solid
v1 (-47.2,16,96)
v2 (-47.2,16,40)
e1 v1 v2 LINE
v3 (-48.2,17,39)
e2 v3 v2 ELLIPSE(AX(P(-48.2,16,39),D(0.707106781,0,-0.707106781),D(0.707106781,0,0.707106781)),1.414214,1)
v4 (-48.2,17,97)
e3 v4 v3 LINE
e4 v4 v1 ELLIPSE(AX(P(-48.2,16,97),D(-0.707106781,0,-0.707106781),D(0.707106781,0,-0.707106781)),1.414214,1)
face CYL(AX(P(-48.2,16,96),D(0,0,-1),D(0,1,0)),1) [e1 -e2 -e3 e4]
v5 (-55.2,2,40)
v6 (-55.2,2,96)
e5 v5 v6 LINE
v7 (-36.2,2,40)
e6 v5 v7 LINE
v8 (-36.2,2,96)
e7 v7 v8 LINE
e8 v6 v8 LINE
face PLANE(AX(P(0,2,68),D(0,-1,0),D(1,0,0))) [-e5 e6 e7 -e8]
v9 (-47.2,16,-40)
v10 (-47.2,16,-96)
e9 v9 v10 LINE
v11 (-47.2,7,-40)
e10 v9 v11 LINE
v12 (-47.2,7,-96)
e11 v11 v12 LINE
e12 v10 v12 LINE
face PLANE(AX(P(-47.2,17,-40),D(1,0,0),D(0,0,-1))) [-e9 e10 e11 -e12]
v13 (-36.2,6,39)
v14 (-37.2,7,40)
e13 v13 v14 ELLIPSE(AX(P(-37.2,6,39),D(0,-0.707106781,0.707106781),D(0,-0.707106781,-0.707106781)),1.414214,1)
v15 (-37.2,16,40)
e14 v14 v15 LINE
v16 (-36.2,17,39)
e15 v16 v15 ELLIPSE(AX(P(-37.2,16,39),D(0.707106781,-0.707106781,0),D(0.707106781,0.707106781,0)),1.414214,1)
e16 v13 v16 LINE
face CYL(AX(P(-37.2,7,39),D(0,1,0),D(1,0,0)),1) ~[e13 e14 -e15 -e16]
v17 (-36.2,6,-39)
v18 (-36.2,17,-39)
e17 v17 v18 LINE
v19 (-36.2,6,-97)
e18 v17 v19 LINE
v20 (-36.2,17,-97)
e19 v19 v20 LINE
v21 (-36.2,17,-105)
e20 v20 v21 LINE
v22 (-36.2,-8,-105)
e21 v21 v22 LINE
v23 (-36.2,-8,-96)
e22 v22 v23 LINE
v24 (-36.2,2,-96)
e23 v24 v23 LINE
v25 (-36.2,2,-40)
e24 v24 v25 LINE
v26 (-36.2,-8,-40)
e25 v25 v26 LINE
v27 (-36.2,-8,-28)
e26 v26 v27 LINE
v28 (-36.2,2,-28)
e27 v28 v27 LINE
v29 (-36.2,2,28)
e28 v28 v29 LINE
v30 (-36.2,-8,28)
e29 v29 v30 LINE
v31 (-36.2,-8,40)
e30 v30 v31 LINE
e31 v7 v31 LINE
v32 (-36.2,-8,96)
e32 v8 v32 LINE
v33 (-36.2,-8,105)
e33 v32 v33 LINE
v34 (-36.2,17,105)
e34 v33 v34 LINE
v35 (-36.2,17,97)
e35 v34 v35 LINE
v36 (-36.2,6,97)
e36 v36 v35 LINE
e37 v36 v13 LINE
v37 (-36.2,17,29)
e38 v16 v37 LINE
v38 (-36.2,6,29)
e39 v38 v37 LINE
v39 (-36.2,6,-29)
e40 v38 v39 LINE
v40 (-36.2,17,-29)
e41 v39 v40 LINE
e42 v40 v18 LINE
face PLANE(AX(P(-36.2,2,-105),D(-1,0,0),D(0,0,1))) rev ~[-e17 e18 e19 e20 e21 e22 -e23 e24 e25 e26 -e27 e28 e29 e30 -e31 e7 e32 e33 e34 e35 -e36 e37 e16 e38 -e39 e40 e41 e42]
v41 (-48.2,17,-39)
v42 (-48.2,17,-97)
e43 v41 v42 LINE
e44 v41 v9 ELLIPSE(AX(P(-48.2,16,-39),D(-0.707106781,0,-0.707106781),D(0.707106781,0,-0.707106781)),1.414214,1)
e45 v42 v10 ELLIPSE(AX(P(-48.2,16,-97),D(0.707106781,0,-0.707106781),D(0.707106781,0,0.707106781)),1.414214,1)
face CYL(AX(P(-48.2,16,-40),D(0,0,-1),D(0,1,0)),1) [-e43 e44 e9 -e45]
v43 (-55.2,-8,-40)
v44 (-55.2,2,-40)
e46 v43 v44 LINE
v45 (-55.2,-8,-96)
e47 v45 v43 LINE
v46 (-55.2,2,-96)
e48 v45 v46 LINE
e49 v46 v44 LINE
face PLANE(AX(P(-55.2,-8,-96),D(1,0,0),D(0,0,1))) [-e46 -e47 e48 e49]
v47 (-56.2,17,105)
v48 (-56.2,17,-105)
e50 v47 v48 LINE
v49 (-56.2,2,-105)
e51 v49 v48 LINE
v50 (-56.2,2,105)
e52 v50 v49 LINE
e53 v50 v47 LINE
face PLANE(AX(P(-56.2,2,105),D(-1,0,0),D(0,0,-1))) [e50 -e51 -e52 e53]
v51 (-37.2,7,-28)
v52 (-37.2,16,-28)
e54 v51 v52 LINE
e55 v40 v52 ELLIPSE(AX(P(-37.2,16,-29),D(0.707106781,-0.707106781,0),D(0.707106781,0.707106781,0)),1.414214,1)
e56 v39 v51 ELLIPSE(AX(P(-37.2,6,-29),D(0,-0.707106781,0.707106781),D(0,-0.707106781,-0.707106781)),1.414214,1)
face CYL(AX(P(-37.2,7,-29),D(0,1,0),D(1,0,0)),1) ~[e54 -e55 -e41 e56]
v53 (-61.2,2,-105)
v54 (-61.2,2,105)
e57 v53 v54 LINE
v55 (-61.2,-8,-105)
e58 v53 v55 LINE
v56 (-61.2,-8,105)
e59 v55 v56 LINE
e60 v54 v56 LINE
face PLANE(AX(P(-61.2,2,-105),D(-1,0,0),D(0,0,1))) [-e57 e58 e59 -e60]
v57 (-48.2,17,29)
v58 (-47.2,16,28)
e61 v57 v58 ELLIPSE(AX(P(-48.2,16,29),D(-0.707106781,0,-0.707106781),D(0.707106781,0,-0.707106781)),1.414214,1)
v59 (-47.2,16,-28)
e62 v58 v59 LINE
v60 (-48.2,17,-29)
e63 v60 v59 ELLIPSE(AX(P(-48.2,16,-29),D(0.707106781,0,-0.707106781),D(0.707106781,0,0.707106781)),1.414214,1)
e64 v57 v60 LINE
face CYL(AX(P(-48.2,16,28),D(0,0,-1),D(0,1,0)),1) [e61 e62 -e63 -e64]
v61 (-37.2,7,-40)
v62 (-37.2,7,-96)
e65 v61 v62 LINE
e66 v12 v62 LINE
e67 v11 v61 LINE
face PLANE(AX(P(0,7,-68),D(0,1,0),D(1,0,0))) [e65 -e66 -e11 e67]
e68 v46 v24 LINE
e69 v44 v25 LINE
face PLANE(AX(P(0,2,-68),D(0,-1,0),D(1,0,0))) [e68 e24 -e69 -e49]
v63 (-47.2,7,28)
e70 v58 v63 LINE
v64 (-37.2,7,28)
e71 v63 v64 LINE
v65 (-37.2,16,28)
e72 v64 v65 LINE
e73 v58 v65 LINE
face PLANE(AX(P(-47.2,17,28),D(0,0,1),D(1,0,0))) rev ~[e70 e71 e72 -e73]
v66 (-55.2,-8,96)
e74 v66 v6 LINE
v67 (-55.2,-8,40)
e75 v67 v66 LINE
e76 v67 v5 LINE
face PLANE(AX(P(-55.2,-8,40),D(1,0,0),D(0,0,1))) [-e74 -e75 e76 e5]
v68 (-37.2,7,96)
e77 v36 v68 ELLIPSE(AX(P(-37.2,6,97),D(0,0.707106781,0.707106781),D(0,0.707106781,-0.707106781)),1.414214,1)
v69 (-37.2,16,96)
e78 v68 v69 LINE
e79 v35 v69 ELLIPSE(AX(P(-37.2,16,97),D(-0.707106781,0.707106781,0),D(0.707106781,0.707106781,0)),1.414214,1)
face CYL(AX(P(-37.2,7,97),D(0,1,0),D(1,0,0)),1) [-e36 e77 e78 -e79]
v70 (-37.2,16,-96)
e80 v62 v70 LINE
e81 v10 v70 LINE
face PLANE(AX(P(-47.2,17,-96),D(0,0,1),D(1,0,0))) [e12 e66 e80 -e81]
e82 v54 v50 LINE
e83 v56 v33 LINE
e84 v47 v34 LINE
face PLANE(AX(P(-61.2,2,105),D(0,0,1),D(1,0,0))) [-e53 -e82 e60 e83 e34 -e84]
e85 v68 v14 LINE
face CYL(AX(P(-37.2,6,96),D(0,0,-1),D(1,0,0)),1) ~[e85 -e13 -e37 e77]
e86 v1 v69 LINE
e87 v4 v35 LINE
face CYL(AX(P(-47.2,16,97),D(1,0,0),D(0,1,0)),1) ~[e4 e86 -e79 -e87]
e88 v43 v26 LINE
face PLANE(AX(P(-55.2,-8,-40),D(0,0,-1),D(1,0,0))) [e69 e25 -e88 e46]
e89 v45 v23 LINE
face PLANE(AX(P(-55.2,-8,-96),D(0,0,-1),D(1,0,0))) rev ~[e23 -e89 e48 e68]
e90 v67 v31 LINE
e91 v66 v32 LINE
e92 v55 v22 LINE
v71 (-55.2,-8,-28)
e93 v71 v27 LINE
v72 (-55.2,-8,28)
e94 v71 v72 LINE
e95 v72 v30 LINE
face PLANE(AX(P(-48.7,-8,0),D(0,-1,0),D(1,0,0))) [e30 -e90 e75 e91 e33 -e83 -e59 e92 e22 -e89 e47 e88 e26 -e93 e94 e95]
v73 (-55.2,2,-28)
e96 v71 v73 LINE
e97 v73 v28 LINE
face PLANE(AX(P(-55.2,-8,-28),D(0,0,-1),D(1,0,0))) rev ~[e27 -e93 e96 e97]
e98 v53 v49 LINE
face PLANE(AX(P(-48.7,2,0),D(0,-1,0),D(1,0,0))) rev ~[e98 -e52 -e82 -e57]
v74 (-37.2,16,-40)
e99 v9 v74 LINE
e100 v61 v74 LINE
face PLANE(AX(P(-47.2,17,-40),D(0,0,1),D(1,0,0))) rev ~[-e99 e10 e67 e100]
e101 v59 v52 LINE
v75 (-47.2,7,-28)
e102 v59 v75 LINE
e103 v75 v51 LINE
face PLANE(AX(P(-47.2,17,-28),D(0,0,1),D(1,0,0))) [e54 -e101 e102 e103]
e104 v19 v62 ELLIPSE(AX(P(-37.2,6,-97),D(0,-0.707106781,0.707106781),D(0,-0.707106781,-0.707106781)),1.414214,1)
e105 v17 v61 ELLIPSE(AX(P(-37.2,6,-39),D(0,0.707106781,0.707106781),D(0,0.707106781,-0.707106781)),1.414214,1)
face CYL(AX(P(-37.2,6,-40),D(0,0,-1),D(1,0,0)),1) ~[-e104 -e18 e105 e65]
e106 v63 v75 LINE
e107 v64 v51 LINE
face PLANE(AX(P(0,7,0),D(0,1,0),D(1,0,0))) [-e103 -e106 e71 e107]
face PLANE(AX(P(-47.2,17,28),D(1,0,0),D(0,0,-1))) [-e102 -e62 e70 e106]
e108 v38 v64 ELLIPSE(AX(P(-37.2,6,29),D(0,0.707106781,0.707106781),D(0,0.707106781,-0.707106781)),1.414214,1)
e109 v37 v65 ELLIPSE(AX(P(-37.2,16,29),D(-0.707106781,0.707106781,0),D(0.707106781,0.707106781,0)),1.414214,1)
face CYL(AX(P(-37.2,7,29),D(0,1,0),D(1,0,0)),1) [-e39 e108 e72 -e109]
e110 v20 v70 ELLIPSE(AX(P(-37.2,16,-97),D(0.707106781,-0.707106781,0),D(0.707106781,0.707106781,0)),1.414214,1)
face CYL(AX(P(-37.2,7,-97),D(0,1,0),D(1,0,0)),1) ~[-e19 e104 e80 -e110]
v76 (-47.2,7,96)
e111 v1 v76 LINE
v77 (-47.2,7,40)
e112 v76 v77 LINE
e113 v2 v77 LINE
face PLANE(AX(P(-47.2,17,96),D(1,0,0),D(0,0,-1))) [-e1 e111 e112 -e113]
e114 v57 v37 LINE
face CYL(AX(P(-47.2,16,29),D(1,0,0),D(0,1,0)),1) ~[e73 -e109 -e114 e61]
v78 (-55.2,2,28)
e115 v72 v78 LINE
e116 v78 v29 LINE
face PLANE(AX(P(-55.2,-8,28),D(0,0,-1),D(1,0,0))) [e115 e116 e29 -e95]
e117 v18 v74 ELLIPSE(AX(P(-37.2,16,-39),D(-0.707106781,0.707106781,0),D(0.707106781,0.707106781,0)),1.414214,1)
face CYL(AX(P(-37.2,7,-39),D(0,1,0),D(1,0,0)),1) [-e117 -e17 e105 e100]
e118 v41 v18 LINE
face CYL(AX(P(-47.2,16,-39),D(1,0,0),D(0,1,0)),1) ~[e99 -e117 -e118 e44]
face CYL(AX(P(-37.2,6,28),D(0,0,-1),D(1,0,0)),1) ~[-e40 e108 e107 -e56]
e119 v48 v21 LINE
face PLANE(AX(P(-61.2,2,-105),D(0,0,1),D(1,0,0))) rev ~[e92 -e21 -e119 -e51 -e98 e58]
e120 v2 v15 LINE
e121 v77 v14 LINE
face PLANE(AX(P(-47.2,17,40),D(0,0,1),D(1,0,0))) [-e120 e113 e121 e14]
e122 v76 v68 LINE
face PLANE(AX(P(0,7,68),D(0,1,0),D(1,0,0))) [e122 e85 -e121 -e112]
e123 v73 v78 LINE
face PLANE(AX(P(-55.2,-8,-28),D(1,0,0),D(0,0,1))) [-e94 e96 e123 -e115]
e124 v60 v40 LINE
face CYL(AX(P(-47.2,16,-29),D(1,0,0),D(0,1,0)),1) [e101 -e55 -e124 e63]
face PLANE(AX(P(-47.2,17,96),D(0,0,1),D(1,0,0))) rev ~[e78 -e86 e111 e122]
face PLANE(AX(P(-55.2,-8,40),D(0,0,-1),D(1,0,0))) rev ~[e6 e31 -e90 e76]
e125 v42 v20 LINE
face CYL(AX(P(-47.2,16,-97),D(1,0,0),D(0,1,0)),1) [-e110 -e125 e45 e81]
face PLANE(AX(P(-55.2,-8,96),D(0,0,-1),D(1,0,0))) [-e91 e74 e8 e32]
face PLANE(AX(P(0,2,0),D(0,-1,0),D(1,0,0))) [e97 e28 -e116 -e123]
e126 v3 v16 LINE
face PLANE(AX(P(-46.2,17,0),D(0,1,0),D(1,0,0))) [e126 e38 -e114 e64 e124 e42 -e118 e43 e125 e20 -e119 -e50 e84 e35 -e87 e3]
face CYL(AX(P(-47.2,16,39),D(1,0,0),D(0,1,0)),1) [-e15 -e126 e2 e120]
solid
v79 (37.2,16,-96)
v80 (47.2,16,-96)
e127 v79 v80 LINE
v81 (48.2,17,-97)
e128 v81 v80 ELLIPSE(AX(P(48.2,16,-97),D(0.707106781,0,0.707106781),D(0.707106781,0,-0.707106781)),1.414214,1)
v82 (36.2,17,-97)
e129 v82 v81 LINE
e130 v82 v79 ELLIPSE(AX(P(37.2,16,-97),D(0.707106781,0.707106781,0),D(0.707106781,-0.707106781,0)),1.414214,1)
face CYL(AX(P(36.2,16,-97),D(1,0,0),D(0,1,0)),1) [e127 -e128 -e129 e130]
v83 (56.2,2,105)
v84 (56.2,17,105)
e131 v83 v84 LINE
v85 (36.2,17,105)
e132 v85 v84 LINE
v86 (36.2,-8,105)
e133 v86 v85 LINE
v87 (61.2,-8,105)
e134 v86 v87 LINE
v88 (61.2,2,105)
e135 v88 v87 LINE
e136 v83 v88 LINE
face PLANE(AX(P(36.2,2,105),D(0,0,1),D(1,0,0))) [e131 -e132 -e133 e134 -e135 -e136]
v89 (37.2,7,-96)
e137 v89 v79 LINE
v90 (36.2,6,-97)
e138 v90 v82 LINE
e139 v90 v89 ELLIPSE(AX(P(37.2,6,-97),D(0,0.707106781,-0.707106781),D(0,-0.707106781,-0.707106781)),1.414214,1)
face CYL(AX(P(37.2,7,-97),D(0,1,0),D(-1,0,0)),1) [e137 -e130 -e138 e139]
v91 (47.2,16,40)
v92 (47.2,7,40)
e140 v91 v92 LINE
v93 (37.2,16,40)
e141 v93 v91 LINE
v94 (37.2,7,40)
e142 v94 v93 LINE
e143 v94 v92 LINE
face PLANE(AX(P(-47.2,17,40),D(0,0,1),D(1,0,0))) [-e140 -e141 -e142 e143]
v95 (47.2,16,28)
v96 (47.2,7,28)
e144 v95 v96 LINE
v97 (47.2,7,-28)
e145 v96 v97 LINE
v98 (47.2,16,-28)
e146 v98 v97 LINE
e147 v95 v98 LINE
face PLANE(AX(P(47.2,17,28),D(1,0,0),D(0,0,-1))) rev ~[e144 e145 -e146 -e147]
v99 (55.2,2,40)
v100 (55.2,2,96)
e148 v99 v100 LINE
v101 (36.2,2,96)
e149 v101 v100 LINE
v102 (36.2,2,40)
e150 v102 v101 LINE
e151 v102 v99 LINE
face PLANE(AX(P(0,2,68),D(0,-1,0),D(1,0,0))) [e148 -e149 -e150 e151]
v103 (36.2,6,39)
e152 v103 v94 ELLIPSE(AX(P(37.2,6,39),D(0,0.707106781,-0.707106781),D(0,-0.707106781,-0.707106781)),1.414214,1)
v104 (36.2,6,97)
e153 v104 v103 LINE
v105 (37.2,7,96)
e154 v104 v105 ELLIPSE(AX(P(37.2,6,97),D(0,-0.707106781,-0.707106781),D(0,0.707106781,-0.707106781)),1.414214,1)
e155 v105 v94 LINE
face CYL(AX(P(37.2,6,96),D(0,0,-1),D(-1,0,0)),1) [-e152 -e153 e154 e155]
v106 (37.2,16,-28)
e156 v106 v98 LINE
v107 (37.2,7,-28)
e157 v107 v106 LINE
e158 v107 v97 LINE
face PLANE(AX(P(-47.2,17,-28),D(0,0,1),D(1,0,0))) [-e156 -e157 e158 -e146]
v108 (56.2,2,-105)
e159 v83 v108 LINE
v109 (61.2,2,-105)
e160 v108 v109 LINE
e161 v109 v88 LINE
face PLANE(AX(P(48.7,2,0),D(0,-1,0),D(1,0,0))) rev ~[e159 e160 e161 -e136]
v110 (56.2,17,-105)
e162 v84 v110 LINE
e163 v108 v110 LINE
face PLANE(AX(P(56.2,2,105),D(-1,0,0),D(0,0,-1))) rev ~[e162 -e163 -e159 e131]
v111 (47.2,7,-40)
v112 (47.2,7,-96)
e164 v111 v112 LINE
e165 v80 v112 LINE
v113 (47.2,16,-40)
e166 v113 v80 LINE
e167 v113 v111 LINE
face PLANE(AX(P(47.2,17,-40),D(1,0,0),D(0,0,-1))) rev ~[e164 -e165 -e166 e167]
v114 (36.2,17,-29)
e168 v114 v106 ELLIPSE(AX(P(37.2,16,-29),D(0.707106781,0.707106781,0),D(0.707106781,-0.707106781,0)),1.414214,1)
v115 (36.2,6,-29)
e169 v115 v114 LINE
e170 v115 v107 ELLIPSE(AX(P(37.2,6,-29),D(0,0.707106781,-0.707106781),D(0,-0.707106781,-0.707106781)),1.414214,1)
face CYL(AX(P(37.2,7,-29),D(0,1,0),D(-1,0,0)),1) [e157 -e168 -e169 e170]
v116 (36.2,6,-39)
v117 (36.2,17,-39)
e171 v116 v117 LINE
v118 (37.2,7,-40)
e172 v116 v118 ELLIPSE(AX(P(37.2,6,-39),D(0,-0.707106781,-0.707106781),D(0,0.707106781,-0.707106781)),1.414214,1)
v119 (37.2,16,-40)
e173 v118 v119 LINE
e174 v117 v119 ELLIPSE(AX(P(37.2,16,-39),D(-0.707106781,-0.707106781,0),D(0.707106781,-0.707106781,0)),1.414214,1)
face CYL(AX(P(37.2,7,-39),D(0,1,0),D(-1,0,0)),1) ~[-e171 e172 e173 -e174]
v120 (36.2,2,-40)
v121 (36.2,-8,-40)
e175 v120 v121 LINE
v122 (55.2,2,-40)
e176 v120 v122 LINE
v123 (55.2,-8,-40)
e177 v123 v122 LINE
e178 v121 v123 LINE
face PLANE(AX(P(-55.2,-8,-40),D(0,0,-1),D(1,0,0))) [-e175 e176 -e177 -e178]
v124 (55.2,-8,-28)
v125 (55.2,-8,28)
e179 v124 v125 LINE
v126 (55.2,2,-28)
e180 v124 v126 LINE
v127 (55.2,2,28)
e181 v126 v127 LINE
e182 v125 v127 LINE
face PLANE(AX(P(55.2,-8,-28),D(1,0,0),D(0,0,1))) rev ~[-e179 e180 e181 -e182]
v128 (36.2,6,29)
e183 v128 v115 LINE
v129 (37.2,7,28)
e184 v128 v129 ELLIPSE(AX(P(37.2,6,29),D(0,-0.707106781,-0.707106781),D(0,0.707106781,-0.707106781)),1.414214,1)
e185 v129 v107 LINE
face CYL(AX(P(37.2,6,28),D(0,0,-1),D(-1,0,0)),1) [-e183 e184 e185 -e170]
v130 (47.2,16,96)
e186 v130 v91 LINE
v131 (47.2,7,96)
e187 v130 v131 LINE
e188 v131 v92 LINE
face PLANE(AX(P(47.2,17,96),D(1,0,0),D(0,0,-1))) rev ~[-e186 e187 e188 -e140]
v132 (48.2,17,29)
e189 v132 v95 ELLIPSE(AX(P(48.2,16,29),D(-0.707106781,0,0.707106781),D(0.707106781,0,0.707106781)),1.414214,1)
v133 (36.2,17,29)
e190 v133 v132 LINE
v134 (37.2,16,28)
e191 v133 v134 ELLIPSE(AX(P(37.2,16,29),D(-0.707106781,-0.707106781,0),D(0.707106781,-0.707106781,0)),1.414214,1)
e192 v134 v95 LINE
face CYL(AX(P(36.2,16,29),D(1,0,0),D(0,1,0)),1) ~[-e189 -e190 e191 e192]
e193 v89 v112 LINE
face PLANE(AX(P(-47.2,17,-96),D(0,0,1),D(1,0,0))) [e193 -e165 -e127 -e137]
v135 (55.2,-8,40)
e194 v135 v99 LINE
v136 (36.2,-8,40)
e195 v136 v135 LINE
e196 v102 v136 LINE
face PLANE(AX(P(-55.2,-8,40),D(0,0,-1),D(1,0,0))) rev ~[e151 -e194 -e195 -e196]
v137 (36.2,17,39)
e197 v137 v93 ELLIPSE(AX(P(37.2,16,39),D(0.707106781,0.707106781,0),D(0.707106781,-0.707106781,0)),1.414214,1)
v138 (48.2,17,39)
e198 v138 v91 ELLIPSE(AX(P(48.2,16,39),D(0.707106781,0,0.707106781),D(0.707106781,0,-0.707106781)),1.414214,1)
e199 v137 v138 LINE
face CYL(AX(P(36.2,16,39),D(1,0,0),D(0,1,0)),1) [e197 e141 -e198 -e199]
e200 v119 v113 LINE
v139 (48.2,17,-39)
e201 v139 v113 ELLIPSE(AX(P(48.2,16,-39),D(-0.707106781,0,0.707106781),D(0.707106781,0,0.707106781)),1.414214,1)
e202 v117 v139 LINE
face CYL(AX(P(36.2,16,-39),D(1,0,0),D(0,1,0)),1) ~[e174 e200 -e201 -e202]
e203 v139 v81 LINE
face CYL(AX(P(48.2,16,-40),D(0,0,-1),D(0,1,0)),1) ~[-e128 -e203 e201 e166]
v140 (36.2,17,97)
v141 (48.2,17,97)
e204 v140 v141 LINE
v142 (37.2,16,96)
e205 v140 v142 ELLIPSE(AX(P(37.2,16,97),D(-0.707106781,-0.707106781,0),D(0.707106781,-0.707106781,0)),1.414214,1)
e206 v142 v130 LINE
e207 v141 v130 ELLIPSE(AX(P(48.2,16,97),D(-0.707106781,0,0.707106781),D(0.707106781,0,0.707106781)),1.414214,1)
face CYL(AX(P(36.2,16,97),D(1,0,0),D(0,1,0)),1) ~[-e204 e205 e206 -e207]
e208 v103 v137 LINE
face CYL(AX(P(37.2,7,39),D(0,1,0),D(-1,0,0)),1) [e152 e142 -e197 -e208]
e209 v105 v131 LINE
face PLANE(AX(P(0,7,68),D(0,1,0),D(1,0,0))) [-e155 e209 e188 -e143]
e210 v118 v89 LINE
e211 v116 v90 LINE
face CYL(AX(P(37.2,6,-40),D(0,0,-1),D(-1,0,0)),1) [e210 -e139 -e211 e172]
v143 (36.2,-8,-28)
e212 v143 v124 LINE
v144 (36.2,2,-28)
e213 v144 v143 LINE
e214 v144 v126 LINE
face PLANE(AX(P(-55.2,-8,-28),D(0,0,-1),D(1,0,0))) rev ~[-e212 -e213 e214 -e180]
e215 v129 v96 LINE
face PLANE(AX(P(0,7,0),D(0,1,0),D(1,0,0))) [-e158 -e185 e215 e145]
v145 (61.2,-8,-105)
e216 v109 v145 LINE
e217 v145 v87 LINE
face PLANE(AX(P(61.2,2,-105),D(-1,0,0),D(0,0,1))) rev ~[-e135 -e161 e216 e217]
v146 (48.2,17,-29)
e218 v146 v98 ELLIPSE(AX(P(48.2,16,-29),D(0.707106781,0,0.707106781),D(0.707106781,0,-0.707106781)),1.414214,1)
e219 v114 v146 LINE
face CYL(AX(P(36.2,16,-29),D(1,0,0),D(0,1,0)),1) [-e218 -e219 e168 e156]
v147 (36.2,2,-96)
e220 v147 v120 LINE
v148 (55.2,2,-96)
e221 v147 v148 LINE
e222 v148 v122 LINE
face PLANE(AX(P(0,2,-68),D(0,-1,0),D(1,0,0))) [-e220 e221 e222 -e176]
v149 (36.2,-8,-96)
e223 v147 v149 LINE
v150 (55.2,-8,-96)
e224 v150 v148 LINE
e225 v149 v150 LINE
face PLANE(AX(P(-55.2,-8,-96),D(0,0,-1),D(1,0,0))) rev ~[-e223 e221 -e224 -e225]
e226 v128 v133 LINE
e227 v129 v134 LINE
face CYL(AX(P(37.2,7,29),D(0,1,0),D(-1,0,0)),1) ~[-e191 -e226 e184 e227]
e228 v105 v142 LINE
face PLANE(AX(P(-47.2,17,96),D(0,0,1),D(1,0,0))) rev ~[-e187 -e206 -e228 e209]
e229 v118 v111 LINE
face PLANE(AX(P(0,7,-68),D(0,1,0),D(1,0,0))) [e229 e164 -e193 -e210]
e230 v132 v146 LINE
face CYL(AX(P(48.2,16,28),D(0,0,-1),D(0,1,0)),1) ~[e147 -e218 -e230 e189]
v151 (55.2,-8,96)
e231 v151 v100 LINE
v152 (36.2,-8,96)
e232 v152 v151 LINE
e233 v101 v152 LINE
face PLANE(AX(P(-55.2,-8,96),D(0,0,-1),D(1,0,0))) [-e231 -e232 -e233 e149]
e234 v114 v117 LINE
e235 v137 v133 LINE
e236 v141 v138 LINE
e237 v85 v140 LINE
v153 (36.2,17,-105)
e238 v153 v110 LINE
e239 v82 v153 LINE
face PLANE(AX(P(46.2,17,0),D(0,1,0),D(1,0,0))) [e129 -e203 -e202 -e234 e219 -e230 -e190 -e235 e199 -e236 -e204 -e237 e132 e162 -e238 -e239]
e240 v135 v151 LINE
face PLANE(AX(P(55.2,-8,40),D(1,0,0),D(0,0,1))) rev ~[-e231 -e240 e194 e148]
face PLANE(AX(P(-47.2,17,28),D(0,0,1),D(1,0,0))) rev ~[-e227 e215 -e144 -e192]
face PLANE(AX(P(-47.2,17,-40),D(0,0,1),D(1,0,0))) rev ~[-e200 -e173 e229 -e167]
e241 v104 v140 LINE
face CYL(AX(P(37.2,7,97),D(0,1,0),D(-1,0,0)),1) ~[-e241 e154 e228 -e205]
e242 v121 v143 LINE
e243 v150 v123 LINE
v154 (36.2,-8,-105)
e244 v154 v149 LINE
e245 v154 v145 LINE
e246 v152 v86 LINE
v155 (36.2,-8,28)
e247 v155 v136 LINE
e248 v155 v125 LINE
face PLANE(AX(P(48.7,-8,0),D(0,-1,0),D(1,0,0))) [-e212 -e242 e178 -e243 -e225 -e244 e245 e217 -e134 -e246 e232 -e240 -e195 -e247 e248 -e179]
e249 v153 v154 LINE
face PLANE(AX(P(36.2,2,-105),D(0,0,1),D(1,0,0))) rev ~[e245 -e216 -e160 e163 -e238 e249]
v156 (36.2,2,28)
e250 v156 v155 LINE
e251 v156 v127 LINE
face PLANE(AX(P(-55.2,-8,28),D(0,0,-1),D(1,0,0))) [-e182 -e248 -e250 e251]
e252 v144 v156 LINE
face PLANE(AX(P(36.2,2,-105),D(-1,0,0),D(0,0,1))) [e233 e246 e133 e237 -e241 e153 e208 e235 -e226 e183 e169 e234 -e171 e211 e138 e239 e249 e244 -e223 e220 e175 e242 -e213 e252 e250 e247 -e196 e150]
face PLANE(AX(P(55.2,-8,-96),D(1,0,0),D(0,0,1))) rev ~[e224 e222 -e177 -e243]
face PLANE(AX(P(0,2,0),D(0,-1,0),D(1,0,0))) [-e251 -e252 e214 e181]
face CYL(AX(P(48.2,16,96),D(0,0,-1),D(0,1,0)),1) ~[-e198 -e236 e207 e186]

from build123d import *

# Parameters (mm, degrees)
SKIZZE1_W                       = 140
SKIZZE1_H                       = 210
AUFSATZ_LINEAR_AUSTRAGEN1_DEPTH = 2
SKIZZE2_W                       = 20
SKIZZE2_H                       = 210
AUFSATZ_LINEAR_AUSTRAGEN2_DEPTH = 15
SKIZZE3_W                       = 94.4
SKIZZE3_H                       = 56
SCHNITT_LINEAR_AUSTRAGEN1_DEPTH = 10
VERRUNDUNG1_R                   = 1
SKIZZE4_W                       = 140
SKIZZE4_H                       = 210
SCHNITT_LINEAR_AUSTRAGEN2_DEPTH = 2
SKIZZE7_W                       = 25
SKIZZE7_H                       = 210
AUFSATZ_LINEAR_AUSTRAGEN3_DEPTH = 10
SKIZZE5_W                       = 110.4
SKIZZE5_H                       = 56
SCHNITT_LINEAR_AUSTRAGEN3_DEPTH = 10


with BuildPart() as part:
    # Skizze1 → Aufsatz-Linear austragen1 (new body)
    with BuildSketch(Plane(origin=(0, 0, 0), x_dir=(1, 0, 0), z_dir=(0, 1, 0))):
        Rectangle(SKIZZE1_W, SKIZZE1_H)
    extrude(amount=AUFSATZ_LINEAR_AUSTRAGEN1_DEPTH)

    # Skizze2 → Aufsatz-Linear austragen2 (add)
    with BuildSketch(Plane(origin=(0, 2, 0), x_dir=(1, 0, 0), z_dir=(0, 1, 0))):
        with Locations((-46.2, 0)):
            Rectangle(SKIZZE2_W, SKIZZE2_H)
        with Locations((46.2, 0)):
            Rectangle(SKIZZE2_W, SKIZZE2_H)
    extrude(amount=AUFSATZ_LINEAR_AUSTRAGEN2_DEPTH)

    # Skizze3 → Schnitt-Linear austragen1 (cut)
    with BuildSketch(Plane(origin=(0, 17, 0), x_dir=(1, 0, 0), z_dir=(0, 1, 0))):
        Rectangle(SKIZZE3_W, SKIZZE3_H)
        with Locations((0, -68)):
            Rectangle(SKIZZE3_W, SKIZZE3_H)
        with Locations((0, 68)):
            Rectangle(SKIZZE3_W, SKIZZE3_H)
    extrude(amount=-SCHNITT_LINEAR_AUSTRAGEN1_DEPTH, mode=Mode.SUBTRACT)

    # Verrundung1
    verrundung1_edges = [part.edges().sort_by_distance(p)[0] for p in [
        (41.7, 17, 28),
        (41.7, 17, -40),
        (41.7, 17, 96),
        (36.2, 7, 0),
        (36.2, 7, -68),
        (36.2, 7, 68),
        (-36.2, 7, 68),
        (-41.7, 17, 40),
        (-47.2, 17, 68),
        (-41.7, 17, 96),
        (47.2, 17, 68),
        (41.7, 17, 40),
        (-36.2, 12, 96),
        (36.2, 12, 96),
        (-36.2, 12, 40),
        (36.2, 12, 40),
        (-36.2, 7, -68),
        (-41.7, 17, -96),
        (-47.2, 17, -68),
        (-41.7, 17, -40),
        (47.2, 17, -68),
        (41.7, 17, -96),
        (-36.2, 12, -40),
        (36.2, 12, -40),
        (-36.2, 12, -96),
        (36.2, 12, -96),
        (-36.2, 7, 0),
        (-41.7, 17, -28),
        (-47.2, 17, 0),
        (-41.7, 17, 28),
        (47.2, 17, 0),
        (41.7, 17, -28),
        (-36.2, 12, 28),
        (36.2, 12, 28),
        (-36.2, 12, -28),
        (36.2, 12, -28),
    ]]
    fillet(verrundung1_edges, radius=VERRUNDUNG1_R)

    # Skizze4 → Schnitt-Linear austragen2 (cut)
    with BuildSketch(Plane.XZ):
        Rectangle(SKIZZE4_W, SKIZZE4_H)
    extrude(amount=-SCHNITT_LINEAR_AUSTRAGEN2_DEPTH, mode=Mode.SUBTRACT)

    # Skizze7 → Aufsatz-Linear austragen3 (add)
    with BuildSketch(Plane.XZ.offset(-2)):
        with Locations((-48.7, 0)):
            Rectangle(SKIZZE7_W, SKIZZE7_H)
        with Locations((48.7, 0)):
            Rectangle(SKIZZE7_W, SKIZZE7_H)
    extrude(amount=AUFSATZ_LINEAR_AUSTRAGEN3_DEPTH)

    # Skizze5 → Schnitt-Linear austragen3 (cut)
    with BuildSketch(Plane.XZ.offset(8)):
        Rectangle(SKIZZE5_W, SKIZZE5_H)
        with Locations((0, -68)):
            Rectangle(SKIZZE5_W, SKIZZE5_H)
        with Locations((0, 68)):
            Rectangle(SKIZZE5_W, SKIZZE5_H)
    extrude(amount=-SCHNITT_LINEAR_AUSTRAGEN3_DEPTH, mode=Mode.SUBTRACT)


solid = part.part
